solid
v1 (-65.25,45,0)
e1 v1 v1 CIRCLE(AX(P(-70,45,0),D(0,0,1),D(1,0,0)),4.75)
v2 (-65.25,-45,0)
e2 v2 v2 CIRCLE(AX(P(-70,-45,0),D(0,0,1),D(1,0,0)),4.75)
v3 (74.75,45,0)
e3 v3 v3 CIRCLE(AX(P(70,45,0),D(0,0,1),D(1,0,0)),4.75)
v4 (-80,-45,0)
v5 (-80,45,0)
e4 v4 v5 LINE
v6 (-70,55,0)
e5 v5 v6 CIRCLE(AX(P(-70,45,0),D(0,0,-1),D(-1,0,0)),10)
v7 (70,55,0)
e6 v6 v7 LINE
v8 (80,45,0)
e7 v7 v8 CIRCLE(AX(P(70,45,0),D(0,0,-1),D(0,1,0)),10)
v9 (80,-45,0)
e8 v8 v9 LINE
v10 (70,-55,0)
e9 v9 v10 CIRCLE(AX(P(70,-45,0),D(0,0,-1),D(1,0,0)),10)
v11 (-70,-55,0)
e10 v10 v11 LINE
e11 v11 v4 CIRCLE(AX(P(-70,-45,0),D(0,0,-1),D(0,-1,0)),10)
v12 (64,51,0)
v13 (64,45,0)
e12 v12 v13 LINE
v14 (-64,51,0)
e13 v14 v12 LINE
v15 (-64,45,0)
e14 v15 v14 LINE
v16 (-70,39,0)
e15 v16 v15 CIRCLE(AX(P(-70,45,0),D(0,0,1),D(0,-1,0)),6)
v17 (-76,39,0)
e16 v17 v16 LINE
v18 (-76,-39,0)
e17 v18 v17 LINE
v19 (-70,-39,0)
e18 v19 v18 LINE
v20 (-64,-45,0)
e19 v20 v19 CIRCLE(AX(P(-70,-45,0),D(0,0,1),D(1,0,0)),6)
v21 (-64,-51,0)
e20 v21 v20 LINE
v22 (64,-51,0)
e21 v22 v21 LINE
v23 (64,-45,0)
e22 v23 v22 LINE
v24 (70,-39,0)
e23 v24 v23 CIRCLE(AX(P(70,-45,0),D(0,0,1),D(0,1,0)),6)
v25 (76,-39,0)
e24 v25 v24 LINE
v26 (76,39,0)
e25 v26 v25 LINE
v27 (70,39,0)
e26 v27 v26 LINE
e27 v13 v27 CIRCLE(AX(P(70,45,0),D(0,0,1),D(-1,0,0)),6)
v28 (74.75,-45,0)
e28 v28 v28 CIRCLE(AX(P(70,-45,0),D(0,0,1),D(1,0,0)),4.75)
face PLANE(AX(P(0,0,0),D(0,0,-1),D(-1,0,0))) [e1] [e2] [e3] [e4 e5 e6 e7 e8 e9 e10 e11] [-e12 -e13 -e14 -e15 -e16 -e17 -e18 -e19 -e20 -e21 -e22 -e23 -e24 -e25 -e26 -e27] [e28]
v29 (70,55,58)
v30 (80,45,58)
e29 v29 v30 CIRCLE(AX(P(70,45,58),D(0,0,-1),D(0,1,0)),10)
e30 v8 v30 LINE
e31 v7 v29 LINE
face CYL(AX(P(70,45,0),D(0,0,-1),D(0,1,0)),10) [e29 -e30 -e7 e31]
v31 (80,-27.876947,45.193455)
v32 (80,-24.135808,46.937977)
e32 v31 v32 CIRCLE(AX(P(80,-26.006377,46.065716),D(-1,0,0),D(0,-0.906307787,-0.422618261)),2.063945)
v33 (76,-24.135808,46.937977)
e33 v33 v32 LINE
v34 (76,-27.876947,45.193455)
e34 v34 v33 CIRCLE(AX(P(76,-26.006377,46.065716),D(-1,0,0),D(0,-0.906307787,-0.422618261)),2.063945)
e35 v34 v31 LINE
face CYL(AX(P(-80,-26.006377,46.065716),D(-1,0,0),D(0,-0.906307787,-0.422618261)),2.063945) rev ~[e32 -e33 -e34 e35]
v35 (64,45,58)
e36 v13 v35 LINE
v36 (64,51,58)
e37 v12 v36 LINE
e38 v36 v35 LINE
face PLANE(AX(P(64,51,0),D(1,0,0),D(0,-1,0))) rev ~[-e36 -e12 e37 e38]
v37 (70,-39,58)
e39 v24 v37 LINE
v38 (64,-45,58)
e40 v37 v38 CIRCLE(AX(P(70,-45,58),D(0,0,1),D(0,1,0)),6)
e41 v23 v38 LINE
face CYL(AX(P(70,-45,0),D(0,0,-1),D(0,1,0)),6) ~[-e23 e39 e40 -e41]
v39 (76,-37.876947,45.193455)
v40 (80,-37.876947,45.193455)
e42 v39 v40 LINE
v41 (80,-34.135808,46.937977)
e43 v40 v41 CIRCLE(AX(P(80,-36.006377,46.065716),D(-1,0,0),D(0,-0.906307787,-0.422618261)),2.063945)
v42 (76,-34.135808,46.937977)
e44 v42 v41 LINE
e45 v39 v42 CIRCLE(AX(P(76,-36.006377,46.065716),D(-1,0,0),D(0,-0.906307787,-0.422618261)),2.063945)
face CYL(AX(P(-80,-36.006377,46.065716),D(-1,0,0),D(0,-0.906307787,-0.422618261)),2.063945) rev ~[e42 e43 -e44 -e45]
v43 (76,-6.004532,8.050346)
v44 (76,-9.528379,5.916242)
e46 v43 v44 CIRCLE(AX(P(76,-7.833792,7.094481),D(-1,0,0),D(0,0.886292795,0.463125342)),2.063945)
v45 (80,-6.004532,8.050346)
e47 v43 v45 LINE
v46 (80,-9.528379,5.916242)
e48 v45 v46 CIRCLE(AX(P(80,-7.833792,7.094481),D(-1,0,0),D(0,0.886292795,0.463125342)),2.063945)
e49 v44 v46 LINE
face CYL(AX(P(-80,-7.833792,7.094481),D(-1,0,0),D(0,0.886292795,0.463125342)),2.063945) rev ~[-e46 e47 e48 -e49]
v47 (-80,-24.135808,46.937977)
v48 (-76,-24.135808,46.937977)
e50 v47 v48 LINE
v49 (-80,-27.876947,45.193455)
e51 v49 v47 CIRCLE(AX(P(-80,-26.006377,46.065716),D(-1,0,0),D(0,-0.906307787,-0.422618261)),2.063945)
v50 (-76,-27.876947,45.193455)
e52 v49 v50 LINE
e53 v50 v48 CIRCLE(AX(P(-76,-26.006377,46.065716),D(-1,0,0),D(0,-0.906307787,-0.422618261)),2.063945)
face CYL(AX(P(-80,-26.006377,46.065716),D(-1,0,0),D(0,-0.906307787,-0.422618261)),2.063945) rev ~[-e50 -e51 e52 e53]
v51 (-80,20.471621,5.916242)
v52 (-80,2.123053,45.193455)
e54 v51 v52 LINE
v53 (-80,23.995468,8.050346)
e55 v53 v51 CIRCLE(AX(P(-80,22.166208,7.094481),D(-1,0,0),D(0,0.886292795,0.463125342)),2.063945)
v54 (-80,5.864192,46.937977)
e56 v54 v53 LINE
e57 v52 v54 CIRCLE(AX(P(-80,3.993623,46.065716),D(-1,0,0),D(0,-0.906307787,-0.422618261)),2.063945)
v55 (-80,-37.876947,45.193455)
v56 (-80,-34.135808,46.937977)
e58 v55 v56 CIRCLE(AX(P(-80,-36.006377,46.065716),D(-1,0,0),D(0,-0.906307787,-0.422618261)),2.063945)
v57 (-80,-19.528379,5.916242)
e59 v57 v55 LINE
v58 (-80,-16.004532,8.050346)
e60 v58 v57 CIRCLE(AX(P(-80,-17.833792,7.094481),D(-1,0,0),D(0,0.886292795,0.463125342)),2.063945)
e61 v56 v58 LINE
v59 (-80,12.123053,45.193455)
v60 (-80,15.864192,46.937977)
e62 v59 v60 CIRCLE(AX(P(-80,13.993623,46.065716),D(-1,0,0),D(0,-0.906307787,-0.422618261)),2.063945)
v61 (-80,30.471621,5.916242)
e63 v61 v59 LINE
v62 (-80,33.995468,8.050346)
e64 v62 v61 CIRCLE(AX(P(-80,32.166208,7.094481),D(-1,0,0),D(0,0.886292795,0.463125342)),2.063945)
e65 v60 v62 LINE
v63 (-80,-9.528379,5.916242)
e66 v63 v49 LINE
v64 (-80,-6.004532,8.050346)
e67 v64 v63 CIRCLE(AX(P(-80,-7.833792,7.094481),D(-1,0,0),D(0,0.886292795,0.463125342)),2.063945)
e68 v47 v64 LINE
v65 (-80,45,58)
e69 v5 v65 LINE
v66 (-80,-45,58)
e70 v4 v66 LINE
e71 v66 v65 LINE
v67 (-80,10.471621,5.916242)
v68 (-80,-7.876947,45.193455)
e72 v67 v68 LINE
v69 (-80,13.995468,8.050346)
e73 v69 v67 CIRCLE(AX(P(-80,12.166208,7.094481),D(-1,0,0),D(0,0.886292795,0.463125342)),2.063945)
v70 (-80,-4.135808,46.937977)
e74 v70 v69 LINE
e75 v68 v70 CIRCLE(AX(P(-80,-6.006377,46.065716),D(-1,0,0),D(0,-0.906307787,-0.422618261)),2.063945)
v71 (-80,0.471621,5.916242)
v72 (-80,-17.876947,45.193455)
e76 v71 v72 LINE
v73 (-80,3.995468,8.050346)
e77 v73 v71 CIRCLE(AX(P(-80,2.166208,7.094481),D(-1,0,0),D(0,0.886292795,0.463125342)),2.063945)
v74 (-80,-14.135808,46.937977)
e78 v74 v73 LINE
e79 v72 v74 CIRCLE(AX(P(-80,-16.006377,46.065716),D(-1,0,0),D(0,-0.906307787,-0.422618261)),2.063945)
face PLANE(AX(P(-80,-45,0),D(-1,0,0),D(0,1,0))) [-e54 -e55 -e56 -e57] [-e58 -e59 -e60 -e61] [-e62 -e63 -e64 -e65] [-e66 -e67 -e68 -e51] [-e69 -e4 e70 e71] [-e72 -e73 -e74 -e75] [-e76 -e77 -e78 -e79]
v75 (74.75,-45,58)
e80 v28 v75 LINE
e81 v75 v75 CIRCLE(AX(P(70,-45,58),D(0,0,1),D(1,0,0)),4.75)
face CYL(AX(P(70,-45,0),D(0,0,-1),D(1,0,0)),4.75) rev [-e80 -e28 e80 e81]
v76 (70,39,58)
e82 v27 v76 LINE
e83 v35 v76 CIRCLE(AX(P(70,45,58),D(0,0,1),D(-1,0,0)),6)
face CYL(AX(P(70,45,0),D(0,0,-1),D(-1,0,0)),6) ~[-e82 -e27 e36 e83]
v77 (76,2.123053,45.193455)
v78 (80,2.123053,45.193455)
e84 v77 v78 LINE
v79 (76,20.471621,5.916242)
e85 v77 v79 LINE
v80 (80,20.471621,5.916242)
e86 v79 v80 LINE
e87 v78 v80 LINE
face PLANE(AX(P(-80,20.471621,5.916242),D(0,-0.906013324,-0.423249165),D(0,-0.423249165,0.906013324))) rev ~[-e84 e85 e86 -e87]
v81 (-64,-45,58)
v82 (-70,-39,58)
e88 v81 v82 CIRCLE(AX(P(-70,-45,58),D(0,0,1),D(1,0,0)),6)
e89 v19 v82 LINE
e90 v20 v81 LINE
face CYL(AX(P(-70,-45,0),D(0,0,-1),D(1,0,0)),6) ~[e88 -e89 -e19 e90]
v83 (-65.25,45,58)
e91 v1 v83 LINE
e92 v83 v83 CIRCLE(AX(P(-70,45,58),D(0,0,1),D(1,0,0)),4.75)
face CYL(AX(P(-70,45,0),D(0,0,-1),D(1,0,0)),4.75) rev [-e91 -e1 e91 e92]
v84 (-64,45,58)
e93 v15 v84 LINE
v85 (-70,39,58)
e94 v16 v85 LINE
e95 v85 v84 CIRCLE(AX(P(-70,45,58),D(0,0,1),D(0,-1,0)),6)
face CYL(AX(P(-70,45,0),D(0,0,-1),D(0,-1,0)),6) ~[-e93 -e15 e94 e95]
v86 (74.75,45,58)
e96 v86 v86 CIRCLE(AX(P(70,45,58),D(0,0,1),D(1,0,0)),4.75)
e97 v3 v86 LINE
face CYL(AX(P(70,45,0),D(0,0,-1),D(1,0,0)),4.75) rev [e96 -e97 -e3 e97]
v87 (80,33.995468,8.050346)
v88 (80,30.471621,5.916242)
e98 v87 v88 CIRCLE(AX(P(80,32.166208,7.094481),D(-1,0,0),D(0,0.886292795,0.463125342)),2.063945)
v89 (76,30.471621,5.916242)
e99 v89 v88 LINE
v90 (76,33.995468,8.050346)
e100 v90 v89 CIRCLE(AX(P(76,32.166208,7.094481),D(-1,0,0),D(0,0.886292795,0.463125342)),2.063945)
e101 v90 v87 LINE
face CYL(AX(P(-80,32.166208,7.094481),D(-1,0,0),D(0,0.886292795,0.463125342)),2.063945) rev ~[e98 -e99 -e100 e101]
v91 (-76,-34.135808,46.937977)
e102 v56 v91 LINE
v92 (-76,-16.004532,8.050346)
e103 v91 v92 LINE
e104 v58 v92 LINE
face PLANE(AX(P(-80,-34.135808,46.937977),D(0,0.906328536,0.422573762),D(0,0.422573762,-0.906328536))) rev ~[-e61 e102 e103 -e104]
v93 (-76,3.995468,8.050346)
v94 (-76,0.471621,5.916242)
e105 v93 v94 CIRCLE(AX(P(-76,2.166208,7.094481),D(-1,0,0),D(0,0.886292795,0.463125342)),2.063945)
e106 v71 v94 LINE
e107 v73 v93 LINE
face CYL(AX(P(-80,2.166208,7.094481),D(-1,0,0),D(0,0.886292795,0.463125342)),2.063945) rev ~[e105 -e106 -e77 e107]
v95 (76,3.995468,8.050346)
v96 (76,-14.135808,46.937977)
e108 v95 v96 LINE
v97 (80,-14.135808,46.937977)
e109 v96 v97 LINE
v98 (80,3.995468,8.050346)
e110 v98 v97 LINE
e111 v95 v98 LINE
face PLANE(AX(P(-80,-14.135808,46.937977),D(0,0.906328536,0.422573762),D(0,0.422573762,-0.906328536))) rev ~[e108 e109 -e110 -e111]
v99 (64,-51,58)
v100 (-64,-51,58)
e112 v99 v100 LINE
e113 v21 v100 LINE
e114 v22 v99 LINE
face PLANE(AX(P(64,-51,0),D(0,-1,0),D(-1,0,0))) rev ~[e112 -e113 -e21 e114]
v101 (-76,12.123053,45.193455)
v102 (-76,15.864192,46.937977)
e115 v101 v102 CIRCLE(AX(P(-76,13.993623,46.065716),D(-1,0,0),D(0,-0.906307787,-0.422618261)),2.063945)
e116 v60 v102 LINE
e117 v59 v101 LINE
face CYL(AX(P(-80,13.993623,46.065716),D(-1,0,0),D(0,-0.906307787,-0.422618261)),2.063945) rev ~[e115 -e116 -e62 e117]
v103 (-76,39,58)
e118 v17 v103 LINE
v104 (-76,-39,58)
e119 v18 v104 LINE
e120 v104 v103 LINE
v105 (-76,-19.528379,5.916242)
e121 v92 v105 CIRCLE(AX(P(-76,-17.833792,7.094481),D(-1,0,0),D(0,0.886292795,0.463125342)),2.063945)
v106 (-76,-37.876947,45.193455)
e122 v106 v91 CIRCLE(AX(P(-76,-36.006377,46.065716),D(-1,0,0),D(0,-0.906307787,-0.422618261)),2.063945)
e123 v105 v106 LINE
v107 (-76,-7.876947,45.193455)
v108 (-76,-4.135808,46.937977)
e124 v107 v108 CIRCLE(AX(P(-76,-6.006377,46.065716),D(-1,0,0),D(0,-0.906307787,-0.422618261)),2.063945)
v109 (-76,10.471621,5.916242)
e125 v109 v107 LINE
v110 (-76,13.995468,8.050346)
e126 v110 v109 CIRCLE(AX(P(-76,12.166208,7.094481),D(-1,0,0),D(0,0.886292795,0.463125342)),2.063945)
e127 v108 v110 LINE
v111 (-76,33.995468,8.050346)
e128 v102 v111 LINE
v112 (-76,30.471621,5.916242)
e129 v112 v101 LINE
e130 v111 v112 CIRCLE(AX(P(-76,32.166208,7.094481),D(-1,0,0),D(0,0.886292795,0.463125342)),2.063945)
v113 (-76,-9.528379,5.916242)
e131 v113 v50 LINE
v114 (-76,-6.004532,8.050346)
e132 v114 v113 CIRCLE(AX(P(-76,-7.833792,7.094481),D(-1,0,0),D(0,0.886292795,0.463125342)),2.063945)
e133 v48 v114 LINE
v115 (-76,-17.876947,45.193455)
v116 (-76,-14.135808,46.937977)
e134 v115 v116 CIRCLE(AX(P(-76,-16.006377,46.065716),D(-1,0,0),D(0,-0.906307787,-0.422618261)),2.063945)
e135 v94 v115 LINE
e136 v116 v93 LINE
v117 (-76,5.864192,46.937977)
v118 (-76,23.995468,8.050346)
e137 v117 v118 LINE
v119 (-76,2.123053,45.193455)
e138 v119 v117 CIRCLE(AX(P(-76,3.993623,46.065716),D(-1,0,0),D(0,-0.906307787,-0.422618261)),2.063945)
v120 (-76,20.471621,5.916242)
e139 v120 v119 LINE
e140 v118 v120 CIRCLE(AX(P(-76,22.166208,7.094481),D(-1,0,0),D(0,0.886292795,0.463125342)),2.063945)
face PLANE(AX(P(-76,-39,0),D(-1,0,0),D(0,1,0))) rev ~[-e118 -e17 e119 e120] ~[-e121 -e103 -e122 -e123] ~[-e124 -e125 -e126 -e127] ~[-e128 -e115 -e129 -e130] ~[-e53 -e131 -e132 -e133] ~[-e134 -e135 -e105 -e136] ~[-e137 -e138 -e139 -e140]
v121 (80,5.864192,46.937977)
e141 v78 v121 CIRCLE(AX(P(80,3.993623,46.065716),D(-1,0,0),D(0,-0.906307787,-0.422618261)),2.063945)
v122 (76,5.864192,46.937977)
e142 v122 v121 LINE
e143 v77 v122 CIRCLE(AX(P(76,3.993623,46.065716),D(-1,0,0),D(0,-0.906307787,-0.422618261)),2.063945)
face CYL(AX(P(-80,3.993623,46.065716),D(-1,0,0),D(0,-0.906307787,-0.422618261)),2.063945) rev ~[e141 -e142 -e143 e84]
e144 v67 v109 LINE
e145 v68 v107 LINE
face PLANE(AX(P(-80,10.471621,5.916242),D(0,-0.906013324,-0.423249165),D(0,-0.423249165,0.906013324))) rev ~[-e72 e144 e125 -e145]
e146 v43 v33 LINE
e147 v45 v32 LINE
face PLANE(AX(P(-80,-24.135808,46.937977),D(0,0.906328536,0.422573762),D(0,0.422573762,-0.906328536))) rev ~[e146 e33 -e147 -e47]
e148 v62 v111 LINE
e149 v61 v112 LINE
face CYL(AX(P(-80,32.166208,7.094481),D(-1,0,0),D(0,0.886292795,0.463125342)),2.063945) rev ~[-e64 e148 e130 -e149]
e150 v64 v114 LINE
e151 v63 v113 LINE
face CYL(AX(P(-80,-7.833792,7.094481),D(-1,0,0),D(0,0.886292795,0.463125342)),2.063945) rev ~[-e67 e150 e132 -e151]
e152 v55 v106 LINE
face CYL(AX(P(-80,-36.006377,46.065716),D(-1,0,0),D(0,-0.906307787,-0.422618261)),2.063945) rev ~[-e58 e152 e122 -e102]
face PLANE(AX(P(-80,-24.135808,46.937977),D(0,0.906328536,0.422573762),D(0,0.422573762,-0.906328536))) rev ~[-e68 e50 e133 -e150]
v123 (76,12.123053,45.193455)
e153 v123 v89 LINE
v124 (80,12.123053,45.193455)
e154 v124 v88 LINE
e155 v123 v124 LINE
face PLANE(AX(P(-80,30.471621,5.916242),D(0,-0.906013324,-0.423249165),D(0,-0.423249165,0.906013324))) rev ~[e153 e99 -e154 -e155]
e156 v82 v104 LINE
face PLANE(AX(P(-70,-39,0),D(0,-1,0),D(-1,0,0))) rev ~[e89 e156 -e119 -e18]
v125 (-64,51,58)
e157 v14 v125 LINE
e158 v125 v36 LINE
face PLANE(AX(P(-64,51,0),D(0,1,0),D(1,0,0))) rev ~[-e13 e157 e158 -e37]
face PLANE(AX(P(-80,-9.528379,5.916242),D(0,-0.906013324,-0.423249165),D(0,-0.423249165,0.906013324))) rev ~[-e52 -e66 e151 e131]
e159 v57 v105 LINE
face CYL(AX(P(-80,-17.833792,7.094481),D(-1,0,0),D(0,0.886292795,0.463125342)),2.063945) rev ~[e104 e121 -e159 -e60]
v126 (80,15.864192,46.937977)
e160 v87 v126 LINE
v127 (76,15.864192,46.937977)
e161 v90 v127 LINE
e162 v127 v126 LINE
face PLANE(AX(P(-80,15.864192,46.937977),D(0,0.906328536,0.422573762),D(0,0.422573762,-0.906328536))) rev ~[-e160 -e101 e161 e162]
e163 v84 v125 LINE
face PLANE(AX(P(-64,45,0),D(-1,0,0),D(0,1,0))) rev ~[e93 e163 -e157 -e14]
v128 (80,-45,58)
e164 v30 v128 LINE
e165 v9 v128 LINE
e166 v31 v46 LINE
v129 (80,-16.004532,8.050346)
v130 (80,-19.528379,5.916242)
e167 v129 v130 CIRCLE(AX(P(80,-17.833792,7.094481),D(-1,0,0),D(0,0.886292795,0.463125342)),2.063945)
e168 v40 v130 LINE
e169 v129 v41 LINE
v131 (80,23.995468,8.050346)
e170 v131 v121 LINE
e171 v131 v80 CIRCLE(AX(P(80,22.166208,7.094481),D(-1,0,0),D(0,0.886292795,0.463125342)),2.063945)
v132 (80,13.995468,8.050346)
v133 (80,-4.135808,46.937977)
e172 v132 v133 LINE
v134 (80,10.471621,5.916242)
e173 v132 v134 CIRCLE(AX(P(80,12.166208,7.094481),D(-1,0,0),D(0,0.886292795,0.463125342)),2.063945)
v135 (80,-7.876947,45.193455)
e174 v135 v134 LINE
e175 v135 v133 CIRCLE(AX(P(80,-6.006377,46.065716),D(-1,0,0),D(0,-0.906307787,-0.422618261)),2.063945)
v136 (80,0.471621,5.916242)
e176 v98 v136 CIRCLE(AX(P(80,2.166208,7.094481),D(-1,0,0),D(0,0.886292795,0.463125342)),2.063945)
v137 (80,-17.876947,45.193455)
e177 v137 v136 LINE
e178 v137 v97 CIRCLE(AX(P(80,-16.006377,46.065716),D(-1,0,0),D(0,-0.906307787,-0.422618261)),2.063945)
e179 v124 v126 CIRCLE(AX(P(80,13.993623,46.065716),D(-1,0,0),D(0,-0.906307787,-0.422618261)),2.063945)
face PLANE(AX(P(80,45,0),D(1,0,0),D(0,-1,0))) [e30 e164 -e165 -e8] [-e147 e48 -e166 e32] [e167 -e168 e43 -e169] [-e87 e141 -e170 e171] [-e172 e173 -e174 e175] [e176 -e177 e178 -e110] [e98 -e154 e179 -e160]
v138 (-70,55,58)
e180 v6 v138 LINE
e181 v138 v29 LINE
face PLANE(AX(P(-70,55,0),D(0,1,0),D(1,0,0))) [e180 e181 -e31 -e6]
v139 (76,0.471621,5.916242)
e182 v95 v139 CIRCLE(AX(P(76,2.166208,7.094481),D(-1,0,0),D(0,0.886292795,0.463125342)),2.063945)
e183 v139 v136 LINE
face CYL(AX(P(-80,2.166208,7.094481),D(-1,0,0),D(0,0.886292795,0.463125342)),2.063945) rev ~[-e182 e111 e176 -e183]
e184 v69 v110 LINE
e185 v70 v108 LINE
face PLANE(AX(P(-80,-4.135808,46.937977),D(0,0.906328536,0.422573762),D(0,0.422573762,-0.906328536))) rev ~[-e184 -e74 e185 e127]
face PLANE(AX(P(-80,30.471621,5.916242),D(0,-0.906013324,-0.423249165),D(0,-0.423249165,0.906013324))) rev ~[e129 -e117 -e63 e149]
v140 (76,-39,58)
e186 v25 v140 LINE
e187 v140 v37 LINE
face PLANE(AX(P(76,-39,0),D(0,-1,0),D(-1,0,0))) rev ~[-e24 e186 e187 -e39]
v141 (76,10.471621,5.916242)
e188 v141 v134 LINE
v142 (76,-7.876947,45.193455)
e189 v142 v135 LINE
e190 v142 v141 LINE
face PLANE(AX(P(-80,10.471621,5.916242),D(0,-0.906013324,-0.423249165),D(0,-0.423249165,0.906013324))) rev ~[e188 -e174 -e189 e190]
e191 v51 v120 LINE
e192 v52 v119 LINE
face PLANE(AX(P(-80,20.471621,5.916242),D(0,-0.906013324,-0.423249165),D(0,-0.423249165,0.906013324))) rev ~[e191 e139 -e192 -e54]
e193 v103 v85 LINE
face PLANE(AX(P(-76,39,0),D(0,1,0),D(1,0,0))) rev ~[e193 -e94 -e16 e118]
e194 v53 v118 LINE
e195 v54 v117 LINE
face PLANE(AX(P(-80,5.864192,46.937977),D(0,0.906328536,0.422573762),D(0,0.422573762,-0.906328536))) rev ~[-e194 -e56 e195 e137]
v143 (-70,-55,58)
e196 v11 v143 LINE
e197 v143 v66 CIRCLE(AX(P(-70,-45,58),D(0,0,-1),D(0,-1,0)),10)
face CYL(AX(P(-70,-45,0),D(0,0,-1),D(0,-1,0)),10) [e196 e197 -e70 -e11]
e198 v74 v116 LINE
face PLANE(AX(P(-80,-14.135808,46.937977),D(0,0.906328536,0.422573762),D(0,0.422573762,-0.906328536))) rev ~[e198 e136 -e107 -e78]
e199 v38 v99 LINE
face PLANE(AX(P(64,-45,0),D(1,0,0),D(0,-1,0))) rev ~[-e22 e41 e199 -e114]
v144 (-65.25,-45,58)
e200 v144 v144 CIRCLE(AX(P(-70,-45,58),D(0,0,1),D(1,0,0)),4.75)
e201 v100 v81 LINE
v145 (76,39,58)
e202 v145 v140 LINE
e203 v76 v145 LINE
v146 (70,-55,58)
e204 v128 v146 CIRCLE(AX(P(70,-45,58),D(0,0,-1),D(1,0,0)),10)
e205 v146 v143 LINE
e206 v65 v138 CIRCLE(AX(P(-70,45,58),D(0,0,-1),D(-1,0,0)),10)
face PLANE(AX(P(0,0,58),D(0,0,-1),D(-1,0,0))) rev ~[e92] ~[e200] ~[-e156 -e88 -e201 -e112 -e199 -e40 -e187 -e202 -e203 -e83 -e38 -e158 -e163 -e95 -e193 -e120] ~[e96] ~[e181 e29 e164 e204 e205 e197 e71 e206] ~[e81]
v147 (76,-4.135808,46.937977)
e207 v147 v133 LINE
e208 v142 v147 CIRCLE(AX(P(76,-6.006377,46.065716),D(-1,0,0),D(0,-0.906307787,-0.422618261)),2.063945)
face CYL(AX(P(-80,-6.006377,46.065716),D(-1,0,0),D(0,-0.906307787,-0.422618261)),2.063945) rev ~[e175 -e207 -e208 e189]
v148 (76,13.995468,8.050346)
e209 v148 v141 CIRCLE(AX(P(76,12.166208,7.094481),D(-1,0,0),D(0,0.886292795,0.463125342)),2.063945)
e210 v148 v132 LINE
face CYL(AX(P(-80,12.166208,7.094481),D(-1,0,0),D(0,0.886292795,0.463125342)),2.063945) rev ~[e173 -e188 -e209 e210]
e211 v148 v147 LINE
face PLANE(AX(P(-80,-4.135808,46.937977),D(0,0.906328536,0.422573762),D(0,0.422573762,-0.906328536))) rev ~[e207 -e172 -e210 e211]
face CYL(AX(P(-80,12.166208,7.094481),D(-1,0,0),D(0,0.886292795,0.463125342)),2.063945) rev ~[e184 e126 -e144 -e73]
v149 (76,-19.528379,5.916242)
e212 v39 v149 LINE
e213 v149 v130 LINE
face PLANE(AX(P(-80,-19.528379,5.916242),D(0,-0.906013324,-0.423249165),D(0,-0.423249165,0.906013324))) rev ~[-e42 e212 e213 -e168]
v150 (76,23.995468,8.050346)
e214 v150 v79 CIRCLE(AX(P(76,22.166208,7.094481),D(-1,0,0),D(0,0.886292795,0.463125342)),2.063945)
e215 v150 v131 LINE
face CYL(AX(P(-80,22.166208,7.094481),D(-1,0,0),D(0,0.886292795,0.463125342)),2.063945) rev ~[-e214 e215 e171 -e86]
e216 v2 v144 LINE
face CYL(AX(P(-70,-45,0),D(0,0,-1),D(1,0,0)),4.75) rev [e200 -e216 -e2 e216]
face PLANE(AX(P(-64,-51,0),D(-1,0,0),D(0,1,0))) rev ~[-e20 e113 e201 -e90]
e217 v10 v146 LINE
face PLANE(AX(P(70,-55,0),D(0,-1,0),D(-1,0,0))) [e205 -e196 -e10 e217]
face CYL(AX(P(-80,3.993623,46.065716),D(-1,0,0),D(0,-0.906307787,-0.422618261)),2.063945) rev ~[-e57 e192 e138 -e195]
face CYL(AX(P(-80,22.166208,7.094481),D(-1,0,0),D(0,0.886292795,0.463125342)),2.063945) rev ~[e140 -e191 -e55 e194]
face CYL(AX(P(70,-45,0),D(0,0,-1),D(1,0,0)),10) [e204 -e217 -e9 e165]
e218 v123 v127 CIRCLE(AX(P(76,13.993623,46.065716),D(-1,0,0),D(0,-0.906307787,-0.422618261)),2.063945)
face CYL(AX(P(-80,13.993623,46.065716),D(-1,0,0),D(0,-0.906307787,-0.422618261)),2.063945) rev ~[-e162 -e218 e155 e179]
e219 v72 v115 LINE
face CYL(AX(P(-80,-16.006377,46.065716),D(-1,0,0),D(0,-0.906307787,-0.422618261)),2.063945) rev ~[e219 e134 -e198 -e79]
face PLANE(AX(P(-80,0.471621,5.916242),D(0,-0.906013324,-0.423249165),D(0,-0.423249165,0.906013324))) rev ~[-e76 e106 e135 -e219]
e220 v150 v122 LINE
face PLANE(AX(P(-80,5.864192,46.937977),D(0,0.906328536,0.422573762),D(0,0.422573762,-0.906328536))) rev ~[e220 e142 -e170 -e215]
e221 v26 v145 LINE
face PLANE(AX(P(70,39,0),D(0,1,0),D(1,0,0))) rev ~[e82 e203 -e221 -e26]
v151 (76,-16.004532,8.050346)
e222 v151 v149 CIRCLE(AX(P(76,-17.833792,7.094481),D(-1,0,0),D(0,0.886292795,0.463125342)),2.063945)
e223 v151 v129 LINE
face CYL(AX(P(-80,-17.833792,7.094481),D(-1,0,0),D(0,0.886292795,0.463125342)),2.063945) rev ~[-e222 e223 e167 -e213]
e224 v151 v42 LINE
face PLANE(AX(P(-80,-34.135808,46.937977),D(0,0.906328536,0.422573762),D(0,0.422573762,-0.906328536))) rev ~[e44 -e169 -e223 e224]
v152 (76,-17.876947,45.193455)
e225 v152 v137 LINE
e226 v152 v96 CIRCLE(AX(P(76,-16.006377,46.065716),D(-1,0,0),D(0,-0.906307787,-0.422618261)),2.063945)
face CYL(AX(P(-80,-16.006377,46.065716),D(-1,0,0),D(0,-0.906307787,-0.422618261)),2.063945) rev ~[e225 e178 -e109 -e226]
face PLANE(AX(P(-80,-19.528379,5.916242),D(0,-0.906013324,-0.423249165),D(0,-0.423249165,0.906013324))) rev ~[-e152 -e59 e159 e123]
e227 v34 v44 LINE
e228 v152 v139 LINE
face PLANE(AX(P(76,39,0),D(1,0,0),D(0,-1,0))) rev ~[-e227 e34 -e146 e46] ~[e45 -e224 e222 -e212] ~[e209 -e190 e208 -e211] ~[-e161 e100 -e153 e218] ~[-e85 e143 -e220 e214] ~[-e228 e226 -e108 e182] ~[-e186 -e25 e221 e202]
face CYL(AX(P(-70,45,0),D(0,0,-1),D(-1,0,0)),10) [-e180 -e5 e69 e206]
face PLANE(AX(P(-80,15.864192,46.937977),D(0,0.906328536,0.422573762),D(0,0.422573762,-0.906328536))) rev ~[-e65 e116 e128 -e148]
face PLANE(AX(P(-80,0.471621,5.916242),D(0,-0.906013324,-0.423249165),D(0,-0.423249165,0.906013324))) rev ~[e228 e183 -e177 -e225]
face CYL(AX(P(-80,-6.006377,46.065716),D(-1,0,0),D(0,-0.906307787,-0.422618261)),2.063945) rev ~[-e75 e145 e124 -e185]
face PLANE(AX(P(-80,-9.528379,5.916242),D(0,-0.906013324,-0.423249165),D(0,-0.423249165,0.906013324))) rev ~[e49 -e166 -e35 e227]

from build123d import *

# Parameters (mm, degrees)
SKETCH_1_R             = 4.75
EXTRUDE_1_DEPTH        = 58
CUT_EXTRUDE_1_DEPTH    = 169
PATTERN_LINEAR_1_COUNT = 6
PATTERN_LINEAR_1_PITCH = 10


with BuildPart() as part:
    # Эскиз1 → Бобышка-Вытянуть1 (new body)
    with BuildSketch(Plane.XY):
        with BuildLine():
            Line((-70, 55), (70, 55))
            ThreePointArc((70, 55), (77.071067812, 52.071067812), (80, 45))
            Line((80, 45), (80, -45))
            ThreePointArc((80, -45), (77.071067812, -52.071067812), (70, -55))
            Line((70, -55), (-70, -55))
            ThreePointArc((-70, -55), (-77.071067812, -52.071067812), (-80, -45))
            Line((-80, -45), (-80, 45))
            ThreePointArc((-80, 45), (-77.071067812, 52.071067812), (-70, 55))
        make_face()
        with Locations((70, 45)):
            Circle(SKETCH_1_R, mode=Mode.SUBTRACT)
        with Locations((70, -45)):
            Circle(SKETCH_1_R, mode=Mode.SUBTRACT)
        with Locations((-70, -45)):
            Circle(SKETCH_1_R, mode=Mode.SUBTRACT)
        with Locations((-70, 45)):
            Circle(SKETCH_1_R, mode=Mode.SUBTRACT)
        with BuildLine():
            Line((-64, 51), (64, 51))
            Line((64, 51), (64, 45))
            ThreePointArc((64, 45), (65.757359313, 40.757359313), (70, 39))
            Line((70, 39), (76, 39))
            Line((76, 39), (76, -39))
            Line((76, -39), (70, -39))
            ThreePointArc((70, -39), (65.757359313, -40.757359313), (64, -45))
            Line((64, -45), (64, -51))
            Line((64, -51), (-64, -51))
            Line((-64, -51), (-64, -45))
            ThreePointArc((-64, -45), (-65.757359313, -40.757359313), (-70, -39))
            Line((-70, -39), (-76, -39))
            Line((-76, -39), (-76, 39))
            Line((-76, 39), (-70, 39))
            ThreePointArc((-70, 39), (-65.757359313, 40.757359313), (-64, 45))
            Line((-64, 45), (-64, 51))
        make_face(mode=Mode.SUBTRACT)
    extrude(amount=EXTRUDE_1_DEPTH)

    # Эскиз2 → Вырез-Вытянуть1 (cut)
    with BuildSketch(Plane.ZY.offset(80)):
        with BuildLine():
            Line((46.937976774, 15.864192118), (8.050346324, 33.995467526))
            ThreePointArc((8.050346324, 33.995467526), (5.329053146, 33.235382363), (5.916242197, 30.471621333))
            Line((5.916242197, 30.471621333), (45.193454902, 12.123052891))
            ThreePointArc((45.193454902, 12.123052891), (47.936328276, 13.121453414), (46.937976774, 15.864192118))
        make_face()
    cut_extrude_1 = extrude(amount=-CUT_EXTRUDE_1_DEPTH, mode=Mode.SUBTRACT)

    # Линейный массив1: Вырез-Вытянуть1 ×6
    with Locations(*[(0, -i * PATTERN_LINEAR_1_PITCH, 0) for i in range(1, PATTERN_LINEAR_1_COUNT)]):
        add(cut_extrude_1, mode=Mode.SUBTRACT)


solid = part.part
